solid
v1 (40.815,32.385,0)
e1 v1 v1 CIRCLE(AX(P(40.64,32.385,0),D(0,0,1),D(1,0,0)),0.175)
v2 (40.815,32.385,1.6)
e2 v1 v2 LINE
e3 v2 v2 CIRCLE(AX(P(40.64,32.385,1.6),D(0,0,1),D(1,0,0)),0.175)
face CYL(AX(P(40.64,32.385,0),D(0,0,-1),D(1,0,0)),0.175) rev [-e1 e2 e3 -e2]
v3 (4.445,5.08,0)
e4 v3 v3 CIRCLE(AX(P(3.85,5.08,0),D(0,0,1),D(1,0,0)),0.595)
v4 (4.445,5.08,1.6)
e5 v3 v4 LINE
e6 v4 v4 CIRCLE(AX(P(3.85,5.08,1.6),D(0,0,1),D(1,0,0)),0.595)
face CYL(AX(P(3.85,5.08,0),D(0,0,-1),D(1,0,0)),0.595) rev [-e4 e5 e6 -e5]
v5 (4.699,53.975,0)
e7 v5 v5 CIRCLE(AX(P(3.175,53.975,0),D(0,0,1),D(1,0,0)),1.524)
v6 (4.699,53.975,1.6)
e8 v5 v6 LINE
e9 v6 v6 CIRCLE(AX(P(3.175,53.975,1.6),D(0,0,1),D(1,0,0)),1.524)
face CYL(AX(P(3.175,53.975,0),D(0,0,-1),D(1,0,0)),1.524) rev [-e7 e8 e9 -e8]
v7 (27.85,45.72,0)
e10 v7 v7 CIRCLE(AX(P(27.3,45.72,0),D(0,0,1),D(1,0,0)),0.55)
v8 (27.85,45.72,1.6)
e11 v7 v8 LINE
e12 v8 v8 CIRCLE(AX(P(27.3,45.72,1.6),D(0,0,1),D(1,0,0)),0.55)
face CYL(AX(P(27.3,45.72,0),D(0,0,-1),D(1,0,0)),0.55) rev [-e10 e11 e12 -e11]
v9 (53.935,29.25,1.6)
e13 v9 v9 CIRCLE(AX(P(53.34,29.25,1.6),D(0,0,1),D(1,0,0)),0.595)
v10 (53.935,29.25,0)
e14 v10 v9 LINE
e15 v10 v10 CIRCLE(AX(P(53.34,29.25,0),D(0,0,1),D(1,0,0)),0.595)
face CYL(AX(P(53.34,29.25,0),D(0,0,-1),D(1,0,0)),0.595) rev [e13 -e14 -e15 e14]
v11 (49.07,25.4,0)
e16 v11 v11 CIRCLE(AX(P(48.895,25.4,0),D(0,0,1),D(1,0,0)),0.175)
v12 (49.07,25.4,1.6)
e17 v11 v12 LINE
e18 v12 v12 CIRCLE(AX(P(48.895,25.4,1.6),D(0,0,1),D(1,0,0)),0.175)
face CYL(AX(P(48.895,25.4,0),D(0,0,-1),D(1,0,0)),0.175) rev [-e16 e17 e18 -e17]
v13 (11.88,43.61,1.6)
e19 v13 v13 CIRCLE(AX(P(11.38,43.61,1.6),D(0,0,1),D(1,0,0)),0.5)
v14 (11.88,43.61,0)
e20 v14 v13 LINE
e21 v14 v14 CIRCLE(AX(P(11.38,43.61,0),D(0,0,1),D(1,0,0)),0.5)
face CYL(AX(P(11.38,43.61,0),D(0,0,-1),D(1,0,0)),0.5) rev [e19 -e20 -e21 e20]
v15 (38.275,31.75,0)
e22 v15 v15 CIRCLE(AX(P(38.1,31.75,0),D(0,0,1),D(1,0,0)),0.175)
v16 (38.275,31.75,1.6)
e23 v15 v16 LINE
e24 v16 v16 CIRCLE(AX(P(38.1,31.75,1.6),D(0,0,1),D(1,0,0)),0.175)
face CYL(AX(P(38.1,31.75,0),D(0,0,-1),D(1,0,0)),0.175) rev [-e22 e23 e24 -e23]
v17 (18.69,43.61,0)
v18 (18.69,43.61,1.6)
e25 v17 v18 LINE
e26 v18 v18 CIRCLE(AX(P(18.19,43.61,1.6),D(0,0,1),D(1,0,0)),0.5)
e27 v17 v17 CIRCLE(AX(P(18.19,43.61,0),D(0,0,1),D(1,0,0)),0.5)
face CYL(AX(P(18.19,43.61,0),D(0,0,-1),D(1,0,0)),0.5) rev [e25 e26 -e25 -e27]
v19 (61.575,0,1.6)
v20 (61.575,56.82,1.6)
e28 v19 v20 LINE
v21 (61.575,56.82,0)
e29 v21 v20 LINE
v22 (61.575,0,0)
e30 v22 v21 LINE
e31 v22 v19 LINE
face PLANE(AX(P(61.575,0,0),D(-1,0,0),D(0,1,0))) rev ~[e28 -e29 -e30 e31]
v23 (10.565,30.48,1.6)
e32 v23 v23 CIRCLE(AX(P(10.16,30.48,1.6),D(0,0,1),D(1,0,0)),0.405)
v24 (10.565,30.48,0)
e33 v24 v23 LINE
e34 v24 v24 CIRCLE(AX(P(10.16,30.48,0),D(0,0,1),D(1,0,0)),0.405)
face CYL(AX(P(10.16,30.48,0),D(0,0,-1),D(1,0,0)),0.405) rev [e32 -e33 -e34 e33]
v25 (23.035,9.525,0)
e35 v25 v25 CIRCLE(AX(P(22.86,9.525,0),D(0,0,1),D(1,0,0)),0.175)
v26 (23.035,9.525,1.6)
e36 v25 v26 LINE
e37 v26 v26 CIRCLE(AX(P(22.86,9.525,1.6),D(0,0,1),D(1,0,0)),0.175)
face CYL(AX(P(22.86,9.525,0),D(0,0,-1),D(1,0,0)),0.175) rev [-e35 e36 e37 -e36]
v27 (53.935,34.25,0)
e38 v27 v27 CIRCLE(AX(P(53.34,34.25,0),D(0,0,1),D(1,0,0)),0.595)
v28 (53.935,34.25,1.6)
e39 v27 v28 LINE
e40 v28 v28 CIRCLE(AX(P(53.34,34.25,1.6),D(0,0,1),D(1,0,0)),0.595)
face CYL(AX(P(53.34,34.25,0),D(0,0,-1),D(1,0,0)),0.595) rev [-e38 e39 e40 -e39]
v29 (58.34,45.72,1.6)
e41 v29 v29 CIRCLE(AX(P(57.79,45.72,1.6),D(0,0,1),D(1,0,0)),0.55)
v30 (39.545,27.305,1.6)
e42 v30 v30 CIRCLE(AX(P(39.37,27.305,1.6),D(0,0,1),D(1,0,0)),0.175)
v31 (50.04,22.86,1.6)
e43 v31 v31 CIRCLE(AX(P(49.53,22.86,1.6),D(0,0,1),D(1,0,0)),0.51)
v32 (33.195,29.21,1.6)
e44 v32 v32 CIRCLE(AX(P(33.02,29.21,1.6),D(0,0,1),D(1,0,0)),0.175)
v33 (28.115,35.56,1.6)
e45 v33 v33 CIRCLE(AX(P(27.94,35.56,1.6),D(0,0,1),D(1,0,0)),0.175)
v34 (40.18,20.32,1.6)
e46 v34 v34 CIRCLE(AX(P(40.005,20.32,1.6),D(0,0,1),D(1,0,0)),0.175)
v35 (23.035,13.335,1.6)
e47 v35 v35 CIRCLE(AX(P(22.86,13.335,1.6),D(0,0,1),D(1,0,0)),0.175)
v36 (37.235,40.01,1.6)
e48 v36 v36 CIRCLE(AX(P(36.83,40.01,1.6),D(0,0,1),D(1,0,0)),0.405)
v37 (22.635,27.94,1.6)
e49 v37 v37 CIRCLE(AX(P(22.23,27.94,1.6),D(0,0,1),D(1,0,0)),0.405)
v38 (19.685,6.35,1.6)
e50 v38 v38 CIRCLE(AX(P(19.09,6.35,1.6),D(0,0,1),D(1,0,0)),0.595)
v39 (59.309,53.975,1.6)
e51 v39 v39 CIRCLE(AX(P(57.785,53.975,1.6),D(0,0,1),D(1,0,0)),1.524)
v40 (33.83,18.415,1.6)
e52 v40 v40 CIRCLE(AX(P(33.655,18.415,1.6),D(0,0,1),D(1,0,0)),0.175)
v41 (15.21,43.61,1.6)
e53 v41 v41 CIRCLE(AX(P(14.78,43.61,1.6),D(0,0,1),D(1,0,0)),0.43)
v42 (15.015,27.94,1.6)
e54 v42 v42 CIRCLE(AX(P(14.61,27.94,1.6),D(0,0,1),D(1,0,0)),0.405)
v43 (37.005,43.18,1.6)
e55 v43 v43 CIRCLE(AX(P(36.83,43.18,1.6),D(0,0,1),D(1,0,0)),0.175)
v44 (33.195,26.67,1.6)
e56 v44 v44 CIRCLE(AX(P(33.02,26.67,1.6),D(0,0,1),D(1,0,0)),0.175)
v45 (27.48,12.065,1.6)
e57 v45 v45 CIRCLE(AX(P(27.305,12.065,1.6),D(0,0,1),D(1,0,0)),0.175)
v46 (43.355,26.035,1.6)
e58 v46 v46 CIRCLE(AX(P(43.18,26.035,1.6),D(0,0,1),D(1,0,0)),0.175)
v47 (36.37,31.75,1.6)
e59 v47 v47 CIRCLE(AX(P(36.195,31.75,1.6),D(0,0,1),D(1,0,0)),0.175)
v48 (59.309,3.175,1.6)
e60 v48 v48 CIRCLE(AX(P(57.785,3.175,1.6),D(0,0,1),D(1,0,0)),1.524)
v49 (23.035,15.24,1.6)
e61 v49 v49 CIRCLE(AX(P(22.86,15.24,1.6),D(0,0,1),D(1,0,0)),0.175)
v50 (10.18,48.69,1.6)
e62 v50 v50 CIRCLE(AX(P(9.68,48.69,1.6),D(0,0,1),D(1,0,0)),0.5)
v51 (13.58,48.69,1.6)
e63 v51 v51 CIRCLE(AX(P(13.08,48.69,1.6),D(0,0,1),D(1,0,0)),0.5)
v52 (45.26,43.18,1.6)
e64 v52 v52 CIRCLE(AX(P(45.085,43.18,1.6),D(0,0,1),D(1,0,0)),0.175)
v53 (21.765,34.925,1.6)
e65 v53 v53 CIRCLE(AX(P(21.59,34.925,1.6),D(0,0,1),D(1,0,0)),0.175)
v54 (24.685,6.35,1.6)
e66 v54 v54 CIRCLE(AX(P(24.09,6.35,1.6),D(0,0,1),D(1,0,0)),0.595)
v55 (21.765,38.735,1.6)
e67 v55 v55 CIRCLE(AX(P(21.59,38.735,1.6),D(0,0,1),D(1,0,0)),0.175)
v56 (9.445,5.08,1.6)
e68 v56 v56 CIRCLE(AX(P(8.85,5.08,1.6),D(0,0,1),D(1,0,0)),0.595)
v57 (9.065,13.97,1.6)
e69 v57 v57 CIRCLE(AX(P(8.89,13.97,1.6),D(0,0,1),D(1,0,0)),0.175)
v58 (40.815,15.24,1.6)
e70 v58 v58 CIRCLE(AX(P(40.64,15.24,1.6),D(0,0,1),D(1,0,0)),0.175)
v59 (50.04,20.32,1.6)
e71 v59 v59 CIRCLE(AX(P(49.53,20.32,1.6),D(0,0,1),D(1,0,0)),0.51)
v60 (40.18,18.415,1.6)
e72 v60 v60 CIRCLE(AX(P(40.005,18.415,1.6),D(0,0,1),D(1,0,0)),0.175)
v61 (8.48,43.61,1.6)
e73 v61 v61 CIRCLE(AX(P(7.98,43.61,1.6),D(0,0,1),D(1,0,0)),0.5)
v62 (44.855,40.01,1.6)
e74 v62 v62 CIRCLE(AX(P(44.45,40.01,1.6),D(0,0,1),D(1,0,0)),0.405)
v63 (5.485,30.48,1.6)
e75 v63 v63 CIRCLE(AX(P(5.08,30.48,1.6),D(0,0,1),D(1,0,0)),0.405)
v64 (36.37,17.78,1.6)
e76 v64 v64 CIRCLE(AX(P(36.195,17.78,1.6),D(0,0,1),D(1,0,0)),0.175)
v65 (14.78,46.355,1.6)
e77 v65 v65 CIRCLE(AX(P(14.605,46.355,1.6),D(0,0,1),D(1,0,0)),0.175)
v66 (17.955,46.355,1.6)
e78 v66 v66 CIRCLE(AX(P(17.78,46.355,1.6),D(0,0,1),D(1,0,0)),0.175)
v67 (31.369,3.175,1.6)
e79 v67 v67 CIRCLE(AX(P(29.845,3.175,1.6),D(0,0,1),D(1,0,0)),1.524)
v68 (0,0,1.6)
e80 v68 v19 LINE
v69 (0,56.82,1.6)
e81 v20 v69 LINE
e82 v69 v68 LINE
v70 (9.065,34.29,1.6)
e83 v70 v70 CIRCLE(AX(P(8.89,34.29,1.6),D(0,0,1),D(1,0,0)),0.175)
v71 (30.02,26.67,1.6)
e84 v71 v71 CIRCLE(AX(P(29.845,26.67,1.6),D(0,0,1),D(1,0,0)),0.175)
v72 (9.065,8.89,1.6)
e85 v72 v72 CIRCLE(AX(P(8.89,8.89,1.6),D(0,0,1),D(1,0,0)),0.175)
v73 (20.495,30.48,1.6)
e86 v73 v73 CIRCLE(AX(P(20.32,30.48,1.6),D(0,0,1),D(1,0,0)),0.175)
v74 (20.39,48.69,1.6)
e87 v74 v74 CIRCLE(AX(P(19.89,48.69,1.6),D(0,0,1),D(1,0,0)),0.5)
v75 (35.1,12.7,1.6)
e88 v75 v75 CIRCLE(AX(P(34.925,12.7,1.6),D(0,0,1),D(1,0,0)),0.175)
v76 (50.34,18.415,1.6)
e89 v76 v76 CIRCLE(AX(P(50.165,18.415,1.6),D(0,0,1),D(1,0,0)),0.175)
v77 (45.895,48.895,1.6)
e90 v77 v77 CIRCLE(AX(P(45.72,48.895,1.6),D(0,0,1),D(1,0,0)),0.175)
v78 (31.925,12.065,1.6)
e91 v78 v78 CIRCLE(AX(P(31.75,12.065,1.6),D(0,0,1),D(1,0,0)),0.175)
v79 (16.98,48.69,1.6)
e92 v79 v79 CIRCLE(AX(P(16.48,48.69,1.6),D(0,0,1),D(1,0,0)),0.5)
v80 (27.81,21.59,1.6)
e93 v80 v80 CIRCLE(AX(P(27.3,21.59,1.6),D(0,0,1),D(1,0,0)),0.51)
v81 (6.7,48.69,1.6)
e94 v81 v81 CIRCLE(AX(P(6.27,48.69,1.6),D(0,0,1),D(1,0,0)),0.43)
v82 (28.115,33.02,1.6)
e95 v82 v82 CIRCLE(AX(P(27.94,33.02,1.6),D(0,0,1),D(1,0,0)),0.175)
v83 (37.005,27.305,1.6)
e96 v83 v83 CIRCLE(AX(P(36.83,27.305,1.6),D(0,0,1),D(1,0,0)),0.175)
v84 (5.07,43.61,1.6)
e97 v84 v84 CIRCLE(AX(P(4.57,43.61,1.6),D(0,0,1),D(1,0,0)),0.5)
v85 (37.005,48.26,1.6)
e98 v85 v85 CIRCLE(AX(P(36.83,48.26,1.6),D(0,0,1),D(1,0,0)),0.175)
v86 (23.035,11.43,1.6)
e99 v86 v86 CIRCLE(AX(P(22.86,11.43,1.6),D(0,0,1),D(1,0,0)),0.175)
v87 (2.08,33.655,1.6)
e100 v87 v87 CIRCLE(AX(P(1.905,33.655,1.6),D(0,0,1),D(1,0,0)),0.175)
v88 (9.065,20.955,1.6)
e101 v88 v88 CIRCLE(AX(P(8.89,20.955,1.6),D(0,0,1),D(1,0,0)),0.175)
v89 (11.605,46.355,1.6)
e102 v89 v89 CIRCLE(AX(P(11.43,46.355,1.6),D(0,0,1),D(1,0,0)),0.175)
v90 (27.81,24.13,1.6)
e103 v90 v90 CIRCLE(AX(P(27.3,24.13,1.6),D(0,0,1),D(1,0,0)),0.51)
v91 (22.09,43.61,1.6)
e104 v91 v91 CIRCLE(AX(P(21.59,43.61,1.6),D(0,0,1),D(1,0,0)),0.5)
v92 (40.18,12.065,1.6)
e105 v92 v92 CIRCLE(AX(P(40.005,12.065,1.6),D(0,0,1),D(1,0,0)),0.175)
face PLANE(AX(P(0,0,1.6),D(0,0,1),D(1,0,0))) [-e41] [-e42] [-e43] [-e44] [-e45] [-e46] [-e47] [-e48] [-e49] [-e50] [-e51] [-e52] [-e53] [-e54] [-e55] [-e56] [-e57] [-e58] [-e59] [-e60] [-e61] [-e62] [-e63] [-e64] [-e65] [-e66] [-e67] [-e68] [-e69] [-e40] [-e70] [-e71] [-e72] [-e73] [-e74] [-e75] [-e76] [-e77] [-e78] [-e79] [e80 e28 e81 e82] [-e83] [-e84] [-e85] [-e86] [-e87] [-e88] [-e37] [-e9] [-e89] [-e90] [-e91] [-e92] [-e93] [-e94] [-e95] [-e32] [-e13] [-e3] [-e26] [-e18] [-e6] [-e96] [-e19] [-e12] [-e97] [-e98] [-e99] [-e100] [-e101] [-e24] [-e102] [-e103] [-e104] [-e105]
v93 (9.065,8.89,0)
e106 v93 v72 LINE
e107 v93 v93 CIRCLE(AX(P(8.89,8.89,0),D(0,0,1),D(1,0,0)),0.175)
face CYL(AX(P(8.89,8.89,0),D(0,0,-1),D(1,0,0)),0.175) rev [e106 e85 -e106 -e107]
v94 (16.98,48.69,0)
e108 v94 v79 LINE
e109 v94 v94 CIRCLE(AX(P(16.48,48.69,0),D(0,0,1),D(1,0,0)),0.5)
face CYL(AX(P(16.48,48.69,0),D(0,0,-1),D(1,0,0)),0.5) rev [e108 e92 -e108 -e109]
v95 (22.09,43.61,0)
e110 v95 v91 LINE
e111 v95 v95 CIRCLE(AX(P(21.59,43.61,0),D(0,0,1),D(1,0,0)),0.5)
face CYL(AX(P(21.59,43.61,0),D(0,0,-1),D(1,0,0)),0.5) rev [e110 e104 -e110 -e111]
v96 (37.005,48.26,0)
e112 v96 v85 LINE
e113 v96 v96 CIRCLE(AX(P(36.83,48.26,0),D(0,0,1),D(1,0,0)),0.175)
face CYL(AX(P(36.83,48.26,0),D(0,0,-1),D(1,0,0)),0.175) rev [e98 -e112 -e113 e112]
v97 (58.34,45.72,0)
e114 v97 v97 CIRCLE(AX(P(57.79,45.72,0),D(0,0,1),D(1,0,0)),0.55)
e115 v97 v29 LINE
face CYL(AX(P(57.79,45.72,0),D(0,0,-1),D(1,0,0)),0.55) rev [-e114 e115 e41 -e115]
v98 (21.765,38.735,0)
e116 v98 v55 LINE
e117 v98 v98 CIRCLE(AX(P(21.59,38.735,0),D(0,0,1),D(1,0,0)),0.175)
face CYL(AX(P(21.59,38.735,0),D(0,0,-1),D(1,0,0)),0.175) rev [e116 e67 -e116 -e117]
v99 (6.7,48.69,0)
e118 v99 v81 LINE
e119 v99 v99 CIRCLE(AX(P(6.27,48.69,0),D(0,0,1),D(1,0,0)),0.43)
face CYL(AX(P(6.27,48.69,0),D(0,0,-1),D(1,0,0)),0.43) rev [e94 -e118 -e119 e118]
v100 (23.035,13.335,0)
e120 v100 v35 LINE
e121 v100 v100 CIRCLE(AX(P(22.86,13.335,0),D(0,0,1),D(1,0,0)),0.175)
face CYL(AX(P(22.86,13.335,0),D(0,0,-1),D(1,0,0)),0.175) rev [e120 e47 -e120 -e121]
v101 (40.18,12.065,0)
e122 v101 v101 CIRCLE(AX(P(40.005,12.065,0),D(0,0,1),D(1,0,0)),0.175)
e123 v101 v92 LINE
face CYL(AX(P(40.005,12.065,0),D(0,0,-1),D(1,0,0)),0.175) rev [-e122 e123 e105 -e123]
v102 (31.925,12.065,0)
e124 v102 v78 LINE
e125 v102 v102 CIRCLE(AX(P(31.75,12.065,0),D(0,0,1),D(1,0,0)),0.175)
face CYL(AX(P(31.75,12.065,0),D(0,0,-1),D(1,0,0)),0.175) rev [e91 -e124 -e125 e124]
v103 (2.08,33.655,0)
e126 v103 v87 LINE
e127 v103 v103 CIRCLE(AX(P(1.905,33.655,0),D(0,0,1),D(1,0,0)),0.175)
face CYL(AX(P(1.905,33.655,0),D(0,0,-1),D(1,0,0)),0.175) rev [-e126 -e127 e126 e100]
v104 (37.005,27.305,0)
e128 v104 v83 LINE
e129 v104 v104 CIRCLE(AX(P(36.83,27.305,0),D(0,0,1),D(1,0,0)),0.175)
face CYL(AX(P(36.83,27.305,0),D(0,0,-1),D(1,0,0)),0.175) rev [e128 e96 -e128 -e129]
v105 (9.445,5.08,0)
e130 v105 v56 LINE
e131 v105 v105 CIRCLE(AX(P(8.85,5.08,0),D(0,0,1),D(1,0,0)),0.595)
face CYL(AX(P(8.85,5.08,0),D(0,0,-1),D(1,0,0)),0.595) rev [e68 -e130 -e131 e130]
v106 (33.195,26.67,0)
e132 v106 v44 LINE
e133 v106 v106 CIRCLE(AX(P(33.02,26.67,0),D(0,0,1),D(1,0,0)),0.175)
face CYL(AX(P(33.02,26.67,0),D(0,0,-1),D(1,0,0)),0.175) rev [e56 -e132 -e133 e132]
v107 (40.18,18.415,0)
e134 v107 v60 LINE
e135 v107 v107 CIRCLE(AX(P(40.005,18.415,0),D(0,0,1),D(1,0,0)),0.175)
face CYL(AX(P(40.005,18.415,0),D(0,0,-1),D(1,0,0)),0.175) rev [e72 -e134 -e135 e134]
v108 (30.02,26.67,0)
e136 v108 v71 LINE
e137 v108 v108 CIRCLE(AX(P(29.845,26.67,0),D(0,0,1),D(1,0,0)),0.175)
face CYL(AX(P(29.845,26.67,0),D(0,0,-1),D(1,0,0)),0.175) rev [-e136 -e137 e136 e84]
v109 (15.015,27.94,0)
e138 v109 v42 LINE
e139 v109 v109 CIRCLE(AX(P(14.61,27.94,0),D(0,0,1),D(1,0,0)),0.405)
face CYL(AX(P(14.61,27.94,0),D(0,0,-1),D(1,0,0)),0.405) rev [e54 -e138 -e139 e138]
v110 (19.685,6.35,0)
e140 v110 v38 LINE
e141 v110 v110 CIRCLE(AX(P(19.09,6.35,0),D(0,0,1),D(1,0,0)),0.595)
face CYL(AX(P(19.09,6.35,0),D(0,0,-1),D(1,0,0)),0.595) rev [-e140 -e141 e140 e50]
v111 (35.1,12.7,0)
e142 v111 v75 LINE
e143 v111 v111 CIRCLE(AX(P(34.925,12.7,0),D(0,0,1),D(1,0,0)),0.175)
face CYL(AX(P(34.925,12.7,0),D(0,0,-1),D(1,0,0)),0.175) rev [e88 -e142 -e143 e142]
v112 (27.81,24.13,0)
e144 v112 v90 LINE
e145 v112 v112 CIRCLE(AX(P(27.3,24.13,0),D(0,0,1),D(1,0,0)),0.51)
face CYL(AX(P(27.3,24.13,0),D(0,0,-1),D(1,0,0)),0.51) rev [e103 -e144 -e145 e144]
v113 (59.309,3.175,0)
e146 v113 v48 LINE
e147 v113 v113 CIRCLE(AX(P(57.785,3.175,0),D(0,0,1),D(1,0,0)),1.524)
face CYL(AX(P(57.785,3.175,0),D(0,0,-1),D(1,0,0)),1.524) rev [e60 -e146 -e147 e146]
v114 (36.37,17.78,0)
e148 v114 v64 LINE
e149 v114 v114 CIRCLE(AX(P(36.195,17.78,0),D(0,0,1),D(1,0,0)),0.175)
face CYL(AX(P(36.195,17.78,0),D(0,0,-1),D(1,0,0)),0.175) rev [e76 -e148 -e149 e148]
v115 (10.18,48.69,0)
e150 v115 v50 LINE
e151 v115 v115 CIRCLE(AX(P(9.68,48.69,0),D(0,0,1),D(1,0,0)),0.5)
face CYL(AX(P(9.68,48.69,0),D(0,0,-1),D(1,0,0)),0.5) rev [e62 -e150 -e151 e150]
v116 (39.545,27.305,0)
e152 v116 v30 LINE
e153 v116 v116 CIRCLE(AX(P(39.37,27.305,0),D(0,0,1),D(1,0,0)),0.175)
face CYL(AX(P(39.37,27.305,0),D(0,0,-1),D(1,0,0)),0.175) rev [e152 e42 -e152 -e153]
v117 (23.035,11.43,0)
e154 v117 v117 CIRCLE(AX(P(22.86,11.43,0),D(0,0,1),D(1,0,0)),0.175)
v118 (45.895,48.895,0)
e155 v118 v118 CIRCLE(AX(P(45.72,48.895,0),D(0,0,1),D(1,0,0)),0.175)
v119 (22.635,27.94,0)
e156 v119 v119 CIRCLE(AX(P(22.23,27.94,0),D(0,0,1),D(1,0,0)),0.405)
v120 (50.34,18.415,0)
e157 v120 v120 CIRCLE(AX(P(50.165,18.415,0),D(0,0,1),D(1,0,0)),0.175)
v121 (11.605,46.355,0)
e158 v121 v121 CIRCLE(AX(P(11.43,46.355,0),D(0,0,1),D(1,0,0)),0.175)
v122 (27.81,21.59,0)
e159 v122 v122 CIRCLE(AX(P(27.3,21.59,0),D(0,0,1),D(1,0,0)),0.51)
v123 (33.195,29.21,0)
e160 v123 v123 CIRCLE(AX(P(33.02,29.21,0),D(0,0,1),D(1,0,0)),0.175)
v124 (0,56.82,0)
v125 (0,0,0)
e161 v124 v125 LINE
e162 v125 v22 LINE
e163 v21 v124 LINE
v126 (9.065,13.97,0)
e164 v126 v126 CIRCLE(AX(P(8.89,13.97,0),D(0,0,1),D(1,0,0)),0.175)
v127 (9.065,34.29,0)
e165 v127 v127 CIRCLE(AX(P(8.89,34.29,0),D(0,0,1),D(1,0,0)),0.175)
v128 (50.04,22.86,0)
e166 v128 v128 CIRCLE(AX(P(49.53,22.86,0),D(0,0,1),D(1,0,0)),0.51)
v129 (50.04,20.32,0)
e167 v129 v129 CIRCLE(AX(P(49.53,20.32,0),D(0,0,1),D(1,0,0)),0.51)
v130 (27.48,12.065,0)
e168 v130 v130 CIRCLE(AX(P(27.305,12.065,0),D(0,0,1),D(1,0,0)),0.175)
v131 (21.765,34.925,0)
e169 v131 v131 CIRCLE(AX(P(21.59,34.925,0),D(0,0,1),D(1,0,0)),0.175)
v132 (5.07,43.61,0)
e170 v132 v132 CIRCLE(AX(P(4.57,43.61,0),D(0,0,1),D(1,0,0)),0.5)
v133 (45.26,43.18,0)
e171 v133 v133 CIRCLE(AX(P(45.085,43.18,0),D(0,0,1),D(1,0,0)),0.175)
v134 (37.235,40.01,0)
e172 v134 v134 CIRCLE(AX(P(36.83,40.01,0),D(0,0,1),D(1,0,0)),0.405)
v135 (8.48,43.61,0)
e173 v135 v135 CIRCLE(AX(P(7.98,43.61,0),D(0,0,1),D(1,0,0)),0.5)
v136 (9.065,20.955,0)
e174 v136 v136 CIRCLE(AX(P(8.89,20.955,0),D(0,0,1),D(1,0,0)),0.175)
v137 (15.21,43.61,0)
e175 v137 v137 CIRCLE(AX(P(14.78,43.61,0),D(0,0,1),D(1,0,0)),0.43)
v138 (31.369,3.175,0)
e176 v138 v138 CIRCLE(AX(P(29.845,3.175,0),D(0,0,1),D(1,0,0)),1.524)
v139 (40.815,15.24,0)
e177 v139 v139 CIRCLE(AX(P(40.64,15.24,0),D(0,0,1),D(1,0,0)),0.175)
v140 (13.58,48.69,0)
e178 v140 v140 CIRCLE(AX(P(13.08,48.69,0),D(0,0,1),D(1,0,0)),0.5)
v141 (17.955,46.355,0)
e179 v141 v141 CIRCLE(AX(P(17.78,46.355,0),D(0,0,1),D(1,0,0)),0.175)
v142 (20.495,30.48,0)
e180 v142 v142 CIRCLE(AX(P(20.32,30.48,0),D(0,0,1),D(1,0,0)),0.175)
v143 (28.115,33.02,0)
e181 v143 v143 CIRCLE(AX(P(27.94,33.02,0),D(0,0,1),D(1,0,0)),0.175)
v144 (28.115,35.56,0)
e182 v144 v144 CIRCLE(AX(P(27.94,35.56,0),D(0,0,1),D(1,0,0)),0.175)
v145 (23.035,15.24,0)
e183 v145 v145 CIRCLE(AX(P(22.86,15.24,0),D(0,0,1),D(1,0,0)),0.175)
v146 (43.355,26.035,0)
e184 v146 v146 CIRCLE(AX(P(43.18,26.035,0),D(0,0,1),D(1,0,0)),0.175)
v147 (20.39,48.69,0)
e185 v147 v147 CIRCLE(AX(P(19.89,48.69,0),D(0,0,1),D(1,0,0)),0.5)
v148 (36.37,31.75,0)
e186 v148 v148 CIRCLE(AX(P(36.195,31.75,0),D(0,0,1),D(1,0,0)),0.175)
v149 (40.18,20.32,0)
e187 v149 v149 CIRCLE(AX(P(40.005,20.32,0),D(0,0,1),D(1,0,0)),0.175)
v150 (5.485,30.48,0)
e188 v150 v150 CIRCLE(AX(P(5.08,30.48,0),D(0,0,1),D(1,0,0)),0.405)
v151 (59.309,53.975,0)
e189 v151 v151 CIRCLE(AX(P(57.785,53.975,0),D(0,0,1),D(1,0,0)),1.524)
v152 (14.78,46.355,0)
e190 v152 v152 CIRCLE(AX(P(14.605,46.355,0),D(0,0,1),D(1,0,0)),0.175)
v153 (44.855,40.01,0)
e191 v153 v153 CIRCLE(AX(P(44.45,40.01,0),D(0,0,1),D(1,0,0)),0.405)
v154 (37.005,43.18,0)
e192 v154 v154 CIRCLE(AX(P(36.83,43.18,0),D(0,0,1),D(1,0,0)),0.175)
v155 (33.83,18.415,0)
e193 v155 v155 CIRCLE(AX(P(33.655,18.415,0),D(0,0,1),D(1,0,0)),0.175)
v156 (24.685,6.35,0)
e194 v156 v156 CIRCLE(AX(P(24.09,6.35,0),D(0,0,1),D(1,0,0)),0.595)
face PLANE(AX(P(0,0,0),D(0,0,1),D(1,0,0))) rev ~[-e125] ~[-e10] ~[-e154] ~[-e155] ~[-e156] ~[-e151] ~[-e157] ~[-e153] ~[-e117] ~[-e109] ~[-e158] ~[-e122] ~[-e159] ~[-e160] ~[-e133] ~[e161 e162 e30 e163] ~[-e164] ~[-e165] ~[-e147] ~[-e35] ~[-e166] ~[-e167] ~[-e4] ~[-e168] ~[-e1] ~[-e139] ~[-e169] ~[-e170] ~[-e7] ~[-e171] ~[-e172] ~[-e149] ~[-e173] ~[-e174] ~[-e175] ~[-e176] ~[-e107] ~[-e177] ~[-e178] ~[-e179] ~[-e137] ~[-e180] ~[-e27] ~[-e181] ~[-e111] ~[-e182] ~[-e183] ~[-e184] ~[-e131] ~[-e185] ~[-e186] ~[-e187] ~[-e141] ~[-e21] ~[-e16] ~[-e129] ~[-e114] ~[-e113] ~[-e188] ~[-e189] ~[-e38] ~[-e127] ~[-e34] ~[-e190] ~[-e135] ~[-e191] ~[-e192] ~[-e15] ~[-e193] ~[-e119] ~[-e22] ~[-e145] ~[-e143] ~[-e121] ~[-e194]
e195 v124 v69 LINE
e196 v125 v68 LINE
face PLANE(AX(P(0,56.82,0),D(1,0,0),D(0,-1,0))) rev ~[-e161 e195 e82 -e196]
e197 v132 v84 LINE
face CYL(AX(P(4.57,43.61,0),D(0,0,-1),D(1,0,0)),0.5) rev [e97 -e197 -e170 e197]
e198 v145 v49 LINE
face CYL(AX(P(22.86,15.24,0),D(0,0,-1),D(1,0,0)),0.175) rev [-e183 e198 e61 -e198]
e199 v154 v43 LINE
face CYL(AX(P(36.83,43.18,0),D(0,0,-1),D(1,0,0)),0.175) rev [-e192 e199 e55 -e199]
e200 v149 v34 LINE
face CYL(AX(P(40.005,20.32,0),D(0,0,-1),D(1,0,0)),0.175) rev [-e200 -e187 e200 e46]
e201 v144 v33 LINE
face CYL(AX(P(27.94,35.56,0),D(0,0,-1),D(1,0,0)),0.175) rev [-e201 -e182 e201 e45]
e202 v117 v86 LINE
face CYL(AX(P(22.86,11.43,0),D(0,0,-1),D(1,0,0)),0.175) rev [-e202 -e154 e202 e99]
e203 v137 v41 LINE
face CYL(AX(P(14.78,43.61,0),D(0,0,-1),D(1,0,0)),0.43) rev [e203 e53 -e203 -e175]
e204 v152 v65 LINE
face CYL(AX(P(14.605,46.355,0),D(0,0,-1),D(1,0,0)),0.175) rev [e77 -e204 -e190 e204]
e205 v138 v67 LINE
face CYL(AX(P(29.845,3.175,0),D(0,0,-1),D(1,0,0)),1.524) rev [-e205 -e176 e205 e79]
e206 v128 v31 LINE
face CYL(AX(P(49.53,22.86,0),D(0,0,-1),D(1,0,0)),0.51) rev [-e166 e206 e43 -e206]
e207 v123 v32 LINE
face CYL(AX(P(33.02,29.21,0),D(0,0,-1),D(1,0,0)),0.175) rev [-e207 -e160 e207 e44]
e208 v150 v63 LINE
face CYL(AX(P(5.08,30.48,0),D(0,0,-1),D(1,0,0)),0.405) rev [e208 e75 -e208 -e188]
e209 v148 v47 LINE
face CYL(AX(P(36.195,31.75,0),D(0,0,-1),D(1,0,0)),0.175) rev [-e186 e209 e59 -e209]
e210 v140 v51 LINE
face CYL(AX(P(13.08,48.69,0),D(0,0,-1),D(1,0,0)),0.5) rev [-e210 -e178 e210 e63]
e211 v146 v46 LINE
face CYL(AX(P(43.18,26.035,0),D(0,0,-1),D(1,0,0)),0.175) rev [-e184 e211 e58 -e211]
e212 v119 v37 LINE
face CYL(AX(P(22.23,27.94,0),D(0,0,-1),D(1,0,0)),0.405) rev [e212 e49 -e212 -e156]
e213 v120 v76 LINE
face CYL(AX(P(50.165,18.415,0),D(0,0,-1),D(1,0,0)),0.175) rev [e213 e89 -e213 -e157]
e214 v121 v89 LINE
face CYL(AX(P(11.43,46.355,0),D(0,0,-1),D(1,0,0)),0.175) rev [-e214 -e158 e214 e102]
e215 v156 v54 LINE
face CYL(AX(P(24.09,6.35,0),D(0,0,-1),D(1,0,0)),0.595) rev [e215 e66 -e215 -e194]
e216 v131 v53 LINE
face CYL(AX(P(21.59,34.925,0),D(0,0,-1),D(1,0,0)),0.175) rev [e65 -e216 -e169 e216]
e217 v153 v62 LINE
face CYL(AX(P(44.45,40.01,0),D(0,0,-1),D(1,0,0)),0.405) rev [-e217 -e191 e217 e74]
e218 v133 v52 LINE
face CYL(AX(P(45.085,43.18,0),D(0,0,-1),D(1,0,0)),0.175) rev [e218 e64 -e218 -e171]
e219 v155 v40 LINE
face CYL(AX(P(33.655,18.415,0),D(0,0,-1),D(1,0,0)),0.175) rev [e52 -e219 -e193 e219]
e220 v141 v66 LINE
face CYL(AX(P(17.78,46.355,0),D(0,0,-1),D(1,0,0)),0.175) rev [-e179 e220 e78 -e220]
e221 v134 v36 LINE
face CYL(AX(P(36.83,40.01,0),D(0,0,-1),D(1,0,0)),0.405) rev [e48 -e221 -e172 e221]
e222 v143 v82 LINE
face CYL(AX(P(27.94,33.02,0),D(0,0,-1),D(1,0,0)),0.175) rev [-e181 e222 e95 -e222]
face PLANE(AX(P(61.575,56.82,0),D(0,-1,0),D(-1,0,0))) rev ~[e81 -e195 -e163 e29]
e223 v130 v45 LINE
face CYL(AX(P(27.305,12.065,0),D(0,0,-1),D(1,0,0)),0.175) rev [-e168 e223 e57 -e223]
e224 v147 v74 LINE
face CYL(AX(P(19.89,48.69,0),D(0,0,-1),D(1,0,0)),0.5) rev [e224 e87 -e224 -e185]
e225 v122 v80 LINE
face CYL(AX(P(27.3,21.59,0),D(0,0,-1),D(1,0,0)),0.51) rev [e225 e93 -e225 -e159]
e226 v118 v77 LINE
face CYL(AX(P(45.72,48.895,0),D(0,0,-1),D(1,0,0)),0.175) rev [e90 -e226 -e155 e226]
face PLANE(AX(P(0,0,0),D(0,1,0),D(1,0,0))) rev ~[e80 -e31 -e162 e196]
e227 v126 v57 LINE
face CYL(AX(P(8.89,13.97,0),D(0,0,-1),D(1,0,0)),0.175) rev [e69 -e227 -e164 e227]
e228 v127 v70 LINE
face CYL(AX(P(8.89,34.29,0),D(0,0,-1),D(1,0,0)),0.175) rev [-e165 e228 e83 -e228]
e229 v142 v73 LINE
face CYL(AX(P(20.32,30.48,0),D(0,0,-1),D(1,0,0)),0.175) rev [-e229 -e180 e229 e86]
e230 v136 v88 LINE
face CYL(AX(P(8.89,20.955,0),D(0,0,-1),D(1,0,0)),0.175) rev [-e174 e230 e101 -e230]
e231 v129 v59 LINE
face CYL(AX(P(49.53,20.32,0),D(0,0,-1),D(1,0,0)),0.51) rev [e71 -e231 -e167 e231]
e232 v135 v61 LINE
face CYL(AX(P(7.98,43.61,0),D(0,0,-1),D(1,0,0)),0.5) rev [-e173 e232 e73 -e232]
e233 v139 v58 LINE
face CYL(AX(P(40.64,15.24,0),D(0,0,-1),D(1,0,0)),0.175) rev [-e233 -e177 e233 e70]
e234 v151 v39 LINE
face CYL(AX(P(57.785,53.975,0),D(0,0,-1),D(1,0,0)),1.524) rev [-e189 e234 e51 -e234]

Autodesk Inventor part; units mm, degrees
ref_plane "YZ Plane" through (0, 0, 0) normal (1, 0, 0) x (0, 1, 0)
ref_plane "XZ Plane" through (0, 0, 0) normal (0, 1, 0) x (-1, 0, 0)
ref_plane "XY Plane" through (0, 0, 0) normal (0, 0, 1) x (1, 0, 0)
sketch "Sketch1" plane through (0, 0, 0) normal (0, 0, 1) x (1, 0, 0)
  line L0 (0, 0) -> (61.575, 0)
  line L1 (61.575, 0) -> (61.575, 56.82)
  line L2 (61.575, 56.82) -> (0, 56.82)
  line L3 (0, 56.82) -> (0, 0)
  circle A0 centre (10.16, 30.48) radius 0.405
  circle A1 centre (5.08, 30.48) radius 0.405
  circle A2 centre (22.23, 27.94) radius 0.405
  circle A3 centre (14.61, 27.94) radius 0.405
  circle A4 centre (44.45, 40.01) radius 0.405
  circle A5 centre (36.83, 40.01) radius 0.405
  circle A6 centre (27.3, 24.13) radius 0.51
  circle A7 centre (27.3, 21.59) radius 0.51
  circle A8 centre (49.53, 22.86) radius 0.51
  circle A9 centre (49.53, 20.32) radius 0.51
  circle A10 centre (27.3, 45.72) radius 0.55
  circle A11 centre (57.79, 45.72) radius 0.55
  circle A12 centre (4.57, 43.61) radius 0.5
  circle A13 centre (6.27, 48.69) radius 0.43
  circle A14 centre (7.98, 43.61) radius 0.5
  circle A15 centre (9.68, 48.69) radius 0.5
  circle A16 centre (11.38, 43.61) radius 0.5
  circle A17 centre (13.08, 48.69) radius 0.5
  circle A18 centre (14.78, 43.61) radius 0.43
  circle A19 centre (16.48, 48.69) radius 0.5
  circle A20 centre (18.19, 43.61) radius 0.5
  circle A21 centre (19.89, 48.69) radius 0.5
  circle A22 centre (21.59, 43.61) radius 0.5
  circle A23 centre (19.09, 6.35) radius 0.595
  circle A24 centre (24.09, 6.35) radius 0.595
  circle A25 centre (3.85, 5.08) radius 0.595
  circle A26 centre (8.85, 5.08) radius 0.595
  circle A27 centre (53.34, 34.25) radius 0.595
  circle A28 centre (53.34, 29.25) radius 0.595
  circle A29 centre (57.785, 3.175) radius 1.524
  circle A30 centre (3.175, 53.975) radius 1.524
  circle A31 centre (57.785, 53.975) radius 1.524
  circle A32 centre (29.845, 3.175) radius 1.524
  circle A33 centre (36.83, 27.305) radius 0.175
  circle A34 centre (39.37, 27.305) radius 0.175
  circle A35 centre (40.64, 32.385) radius 0.175
  circle A36 centre (20.32, 30.48) radius 0.175
  circle A37 centre (27.94, 33.02) radius 0.175
  circle A38 centre (27.94, 35.56) radius 0.175
  circle A39 centre (21.59, 34.925) radius 0.175
  circle A40 centre (21.59, 38.735) radius 0.175
  circle A41 centre (36.83, 43.18) radius 0.175
  circle A42 centre (45.085, 43.18) radius 0.175
  circle A43 centre (36.83, 48.26) radius 0.175
  circle A44 centre (45.72, 48.895) radius 0.175
  circle A45 centre (40.005, 20.32) radius 0.175
  circle A46 centre (40.005, 18.415) radius 0.175
  circle A47 centre (40.005, 12.065) radius 0.175
  circle A48 centre (31.75, 12.065) radius 0.175
  circle A49 centre (27.305, 12.065) radius 0.175
  circle A50 centre (8.89, 8.89) radius 0.175
  circle A51 centre (8.89, 13.97) radius 0.175
  circle A52 centre (8.89, 20.955) radius 0.175
  circle A53 centre (8.89, 34.29) radius 0.175
  circle A54 centre (1.905, 33.655) radius 0.175
  circle A55 centre (11.43, 46.355) radius 0.175
  circle A56 centre (14.605, 46.355) radius 0.175
  circle A57 centre (43.18, 26.035) radius 0.175
  circle A58 centre (50.165, 18.415) radius 0.175
  circle A59 centre (48.895, 25.4) radius 0.175
  circle A60 centre (33.655, 18.415) radius 0.175
  circle A61 centre (17.78, 46.355) radius 0.175
  circle A62 centre (33.02, 26.67) radius 0.175
  circle A63 centre (29.845, 26.67) radius 0.175
  circle A64 centre (33.02, 29.21) radius 0.175
  circle A65 centre (22.86, 9.525) radius 0.175
  circle A66 centre (22.86, 11.43) radius 0.175
  circle A67 centre (22.86, 13.335) radius 0.175
  circle A68 centre (22.86, 15.24) radius 0.175
  circle A69 centre (36.195, 31.75) radius 0.175
  circle A70 centre (34.925, 12.7) radius 0.175
  circle A71 centre (38.1, 31.75) radius 0.175
  circle A72 centre (40.64, 15.24) radius 0.175
  circle A73 centre (36.195, 17.78) radius 0.175
extrude "MPS_Drive_Amp_2.brd_Outline" add sketch "Sketch1" along normal blind 1.6
properties part number "MPS_Drive_Amp_2.brd_Outline"
